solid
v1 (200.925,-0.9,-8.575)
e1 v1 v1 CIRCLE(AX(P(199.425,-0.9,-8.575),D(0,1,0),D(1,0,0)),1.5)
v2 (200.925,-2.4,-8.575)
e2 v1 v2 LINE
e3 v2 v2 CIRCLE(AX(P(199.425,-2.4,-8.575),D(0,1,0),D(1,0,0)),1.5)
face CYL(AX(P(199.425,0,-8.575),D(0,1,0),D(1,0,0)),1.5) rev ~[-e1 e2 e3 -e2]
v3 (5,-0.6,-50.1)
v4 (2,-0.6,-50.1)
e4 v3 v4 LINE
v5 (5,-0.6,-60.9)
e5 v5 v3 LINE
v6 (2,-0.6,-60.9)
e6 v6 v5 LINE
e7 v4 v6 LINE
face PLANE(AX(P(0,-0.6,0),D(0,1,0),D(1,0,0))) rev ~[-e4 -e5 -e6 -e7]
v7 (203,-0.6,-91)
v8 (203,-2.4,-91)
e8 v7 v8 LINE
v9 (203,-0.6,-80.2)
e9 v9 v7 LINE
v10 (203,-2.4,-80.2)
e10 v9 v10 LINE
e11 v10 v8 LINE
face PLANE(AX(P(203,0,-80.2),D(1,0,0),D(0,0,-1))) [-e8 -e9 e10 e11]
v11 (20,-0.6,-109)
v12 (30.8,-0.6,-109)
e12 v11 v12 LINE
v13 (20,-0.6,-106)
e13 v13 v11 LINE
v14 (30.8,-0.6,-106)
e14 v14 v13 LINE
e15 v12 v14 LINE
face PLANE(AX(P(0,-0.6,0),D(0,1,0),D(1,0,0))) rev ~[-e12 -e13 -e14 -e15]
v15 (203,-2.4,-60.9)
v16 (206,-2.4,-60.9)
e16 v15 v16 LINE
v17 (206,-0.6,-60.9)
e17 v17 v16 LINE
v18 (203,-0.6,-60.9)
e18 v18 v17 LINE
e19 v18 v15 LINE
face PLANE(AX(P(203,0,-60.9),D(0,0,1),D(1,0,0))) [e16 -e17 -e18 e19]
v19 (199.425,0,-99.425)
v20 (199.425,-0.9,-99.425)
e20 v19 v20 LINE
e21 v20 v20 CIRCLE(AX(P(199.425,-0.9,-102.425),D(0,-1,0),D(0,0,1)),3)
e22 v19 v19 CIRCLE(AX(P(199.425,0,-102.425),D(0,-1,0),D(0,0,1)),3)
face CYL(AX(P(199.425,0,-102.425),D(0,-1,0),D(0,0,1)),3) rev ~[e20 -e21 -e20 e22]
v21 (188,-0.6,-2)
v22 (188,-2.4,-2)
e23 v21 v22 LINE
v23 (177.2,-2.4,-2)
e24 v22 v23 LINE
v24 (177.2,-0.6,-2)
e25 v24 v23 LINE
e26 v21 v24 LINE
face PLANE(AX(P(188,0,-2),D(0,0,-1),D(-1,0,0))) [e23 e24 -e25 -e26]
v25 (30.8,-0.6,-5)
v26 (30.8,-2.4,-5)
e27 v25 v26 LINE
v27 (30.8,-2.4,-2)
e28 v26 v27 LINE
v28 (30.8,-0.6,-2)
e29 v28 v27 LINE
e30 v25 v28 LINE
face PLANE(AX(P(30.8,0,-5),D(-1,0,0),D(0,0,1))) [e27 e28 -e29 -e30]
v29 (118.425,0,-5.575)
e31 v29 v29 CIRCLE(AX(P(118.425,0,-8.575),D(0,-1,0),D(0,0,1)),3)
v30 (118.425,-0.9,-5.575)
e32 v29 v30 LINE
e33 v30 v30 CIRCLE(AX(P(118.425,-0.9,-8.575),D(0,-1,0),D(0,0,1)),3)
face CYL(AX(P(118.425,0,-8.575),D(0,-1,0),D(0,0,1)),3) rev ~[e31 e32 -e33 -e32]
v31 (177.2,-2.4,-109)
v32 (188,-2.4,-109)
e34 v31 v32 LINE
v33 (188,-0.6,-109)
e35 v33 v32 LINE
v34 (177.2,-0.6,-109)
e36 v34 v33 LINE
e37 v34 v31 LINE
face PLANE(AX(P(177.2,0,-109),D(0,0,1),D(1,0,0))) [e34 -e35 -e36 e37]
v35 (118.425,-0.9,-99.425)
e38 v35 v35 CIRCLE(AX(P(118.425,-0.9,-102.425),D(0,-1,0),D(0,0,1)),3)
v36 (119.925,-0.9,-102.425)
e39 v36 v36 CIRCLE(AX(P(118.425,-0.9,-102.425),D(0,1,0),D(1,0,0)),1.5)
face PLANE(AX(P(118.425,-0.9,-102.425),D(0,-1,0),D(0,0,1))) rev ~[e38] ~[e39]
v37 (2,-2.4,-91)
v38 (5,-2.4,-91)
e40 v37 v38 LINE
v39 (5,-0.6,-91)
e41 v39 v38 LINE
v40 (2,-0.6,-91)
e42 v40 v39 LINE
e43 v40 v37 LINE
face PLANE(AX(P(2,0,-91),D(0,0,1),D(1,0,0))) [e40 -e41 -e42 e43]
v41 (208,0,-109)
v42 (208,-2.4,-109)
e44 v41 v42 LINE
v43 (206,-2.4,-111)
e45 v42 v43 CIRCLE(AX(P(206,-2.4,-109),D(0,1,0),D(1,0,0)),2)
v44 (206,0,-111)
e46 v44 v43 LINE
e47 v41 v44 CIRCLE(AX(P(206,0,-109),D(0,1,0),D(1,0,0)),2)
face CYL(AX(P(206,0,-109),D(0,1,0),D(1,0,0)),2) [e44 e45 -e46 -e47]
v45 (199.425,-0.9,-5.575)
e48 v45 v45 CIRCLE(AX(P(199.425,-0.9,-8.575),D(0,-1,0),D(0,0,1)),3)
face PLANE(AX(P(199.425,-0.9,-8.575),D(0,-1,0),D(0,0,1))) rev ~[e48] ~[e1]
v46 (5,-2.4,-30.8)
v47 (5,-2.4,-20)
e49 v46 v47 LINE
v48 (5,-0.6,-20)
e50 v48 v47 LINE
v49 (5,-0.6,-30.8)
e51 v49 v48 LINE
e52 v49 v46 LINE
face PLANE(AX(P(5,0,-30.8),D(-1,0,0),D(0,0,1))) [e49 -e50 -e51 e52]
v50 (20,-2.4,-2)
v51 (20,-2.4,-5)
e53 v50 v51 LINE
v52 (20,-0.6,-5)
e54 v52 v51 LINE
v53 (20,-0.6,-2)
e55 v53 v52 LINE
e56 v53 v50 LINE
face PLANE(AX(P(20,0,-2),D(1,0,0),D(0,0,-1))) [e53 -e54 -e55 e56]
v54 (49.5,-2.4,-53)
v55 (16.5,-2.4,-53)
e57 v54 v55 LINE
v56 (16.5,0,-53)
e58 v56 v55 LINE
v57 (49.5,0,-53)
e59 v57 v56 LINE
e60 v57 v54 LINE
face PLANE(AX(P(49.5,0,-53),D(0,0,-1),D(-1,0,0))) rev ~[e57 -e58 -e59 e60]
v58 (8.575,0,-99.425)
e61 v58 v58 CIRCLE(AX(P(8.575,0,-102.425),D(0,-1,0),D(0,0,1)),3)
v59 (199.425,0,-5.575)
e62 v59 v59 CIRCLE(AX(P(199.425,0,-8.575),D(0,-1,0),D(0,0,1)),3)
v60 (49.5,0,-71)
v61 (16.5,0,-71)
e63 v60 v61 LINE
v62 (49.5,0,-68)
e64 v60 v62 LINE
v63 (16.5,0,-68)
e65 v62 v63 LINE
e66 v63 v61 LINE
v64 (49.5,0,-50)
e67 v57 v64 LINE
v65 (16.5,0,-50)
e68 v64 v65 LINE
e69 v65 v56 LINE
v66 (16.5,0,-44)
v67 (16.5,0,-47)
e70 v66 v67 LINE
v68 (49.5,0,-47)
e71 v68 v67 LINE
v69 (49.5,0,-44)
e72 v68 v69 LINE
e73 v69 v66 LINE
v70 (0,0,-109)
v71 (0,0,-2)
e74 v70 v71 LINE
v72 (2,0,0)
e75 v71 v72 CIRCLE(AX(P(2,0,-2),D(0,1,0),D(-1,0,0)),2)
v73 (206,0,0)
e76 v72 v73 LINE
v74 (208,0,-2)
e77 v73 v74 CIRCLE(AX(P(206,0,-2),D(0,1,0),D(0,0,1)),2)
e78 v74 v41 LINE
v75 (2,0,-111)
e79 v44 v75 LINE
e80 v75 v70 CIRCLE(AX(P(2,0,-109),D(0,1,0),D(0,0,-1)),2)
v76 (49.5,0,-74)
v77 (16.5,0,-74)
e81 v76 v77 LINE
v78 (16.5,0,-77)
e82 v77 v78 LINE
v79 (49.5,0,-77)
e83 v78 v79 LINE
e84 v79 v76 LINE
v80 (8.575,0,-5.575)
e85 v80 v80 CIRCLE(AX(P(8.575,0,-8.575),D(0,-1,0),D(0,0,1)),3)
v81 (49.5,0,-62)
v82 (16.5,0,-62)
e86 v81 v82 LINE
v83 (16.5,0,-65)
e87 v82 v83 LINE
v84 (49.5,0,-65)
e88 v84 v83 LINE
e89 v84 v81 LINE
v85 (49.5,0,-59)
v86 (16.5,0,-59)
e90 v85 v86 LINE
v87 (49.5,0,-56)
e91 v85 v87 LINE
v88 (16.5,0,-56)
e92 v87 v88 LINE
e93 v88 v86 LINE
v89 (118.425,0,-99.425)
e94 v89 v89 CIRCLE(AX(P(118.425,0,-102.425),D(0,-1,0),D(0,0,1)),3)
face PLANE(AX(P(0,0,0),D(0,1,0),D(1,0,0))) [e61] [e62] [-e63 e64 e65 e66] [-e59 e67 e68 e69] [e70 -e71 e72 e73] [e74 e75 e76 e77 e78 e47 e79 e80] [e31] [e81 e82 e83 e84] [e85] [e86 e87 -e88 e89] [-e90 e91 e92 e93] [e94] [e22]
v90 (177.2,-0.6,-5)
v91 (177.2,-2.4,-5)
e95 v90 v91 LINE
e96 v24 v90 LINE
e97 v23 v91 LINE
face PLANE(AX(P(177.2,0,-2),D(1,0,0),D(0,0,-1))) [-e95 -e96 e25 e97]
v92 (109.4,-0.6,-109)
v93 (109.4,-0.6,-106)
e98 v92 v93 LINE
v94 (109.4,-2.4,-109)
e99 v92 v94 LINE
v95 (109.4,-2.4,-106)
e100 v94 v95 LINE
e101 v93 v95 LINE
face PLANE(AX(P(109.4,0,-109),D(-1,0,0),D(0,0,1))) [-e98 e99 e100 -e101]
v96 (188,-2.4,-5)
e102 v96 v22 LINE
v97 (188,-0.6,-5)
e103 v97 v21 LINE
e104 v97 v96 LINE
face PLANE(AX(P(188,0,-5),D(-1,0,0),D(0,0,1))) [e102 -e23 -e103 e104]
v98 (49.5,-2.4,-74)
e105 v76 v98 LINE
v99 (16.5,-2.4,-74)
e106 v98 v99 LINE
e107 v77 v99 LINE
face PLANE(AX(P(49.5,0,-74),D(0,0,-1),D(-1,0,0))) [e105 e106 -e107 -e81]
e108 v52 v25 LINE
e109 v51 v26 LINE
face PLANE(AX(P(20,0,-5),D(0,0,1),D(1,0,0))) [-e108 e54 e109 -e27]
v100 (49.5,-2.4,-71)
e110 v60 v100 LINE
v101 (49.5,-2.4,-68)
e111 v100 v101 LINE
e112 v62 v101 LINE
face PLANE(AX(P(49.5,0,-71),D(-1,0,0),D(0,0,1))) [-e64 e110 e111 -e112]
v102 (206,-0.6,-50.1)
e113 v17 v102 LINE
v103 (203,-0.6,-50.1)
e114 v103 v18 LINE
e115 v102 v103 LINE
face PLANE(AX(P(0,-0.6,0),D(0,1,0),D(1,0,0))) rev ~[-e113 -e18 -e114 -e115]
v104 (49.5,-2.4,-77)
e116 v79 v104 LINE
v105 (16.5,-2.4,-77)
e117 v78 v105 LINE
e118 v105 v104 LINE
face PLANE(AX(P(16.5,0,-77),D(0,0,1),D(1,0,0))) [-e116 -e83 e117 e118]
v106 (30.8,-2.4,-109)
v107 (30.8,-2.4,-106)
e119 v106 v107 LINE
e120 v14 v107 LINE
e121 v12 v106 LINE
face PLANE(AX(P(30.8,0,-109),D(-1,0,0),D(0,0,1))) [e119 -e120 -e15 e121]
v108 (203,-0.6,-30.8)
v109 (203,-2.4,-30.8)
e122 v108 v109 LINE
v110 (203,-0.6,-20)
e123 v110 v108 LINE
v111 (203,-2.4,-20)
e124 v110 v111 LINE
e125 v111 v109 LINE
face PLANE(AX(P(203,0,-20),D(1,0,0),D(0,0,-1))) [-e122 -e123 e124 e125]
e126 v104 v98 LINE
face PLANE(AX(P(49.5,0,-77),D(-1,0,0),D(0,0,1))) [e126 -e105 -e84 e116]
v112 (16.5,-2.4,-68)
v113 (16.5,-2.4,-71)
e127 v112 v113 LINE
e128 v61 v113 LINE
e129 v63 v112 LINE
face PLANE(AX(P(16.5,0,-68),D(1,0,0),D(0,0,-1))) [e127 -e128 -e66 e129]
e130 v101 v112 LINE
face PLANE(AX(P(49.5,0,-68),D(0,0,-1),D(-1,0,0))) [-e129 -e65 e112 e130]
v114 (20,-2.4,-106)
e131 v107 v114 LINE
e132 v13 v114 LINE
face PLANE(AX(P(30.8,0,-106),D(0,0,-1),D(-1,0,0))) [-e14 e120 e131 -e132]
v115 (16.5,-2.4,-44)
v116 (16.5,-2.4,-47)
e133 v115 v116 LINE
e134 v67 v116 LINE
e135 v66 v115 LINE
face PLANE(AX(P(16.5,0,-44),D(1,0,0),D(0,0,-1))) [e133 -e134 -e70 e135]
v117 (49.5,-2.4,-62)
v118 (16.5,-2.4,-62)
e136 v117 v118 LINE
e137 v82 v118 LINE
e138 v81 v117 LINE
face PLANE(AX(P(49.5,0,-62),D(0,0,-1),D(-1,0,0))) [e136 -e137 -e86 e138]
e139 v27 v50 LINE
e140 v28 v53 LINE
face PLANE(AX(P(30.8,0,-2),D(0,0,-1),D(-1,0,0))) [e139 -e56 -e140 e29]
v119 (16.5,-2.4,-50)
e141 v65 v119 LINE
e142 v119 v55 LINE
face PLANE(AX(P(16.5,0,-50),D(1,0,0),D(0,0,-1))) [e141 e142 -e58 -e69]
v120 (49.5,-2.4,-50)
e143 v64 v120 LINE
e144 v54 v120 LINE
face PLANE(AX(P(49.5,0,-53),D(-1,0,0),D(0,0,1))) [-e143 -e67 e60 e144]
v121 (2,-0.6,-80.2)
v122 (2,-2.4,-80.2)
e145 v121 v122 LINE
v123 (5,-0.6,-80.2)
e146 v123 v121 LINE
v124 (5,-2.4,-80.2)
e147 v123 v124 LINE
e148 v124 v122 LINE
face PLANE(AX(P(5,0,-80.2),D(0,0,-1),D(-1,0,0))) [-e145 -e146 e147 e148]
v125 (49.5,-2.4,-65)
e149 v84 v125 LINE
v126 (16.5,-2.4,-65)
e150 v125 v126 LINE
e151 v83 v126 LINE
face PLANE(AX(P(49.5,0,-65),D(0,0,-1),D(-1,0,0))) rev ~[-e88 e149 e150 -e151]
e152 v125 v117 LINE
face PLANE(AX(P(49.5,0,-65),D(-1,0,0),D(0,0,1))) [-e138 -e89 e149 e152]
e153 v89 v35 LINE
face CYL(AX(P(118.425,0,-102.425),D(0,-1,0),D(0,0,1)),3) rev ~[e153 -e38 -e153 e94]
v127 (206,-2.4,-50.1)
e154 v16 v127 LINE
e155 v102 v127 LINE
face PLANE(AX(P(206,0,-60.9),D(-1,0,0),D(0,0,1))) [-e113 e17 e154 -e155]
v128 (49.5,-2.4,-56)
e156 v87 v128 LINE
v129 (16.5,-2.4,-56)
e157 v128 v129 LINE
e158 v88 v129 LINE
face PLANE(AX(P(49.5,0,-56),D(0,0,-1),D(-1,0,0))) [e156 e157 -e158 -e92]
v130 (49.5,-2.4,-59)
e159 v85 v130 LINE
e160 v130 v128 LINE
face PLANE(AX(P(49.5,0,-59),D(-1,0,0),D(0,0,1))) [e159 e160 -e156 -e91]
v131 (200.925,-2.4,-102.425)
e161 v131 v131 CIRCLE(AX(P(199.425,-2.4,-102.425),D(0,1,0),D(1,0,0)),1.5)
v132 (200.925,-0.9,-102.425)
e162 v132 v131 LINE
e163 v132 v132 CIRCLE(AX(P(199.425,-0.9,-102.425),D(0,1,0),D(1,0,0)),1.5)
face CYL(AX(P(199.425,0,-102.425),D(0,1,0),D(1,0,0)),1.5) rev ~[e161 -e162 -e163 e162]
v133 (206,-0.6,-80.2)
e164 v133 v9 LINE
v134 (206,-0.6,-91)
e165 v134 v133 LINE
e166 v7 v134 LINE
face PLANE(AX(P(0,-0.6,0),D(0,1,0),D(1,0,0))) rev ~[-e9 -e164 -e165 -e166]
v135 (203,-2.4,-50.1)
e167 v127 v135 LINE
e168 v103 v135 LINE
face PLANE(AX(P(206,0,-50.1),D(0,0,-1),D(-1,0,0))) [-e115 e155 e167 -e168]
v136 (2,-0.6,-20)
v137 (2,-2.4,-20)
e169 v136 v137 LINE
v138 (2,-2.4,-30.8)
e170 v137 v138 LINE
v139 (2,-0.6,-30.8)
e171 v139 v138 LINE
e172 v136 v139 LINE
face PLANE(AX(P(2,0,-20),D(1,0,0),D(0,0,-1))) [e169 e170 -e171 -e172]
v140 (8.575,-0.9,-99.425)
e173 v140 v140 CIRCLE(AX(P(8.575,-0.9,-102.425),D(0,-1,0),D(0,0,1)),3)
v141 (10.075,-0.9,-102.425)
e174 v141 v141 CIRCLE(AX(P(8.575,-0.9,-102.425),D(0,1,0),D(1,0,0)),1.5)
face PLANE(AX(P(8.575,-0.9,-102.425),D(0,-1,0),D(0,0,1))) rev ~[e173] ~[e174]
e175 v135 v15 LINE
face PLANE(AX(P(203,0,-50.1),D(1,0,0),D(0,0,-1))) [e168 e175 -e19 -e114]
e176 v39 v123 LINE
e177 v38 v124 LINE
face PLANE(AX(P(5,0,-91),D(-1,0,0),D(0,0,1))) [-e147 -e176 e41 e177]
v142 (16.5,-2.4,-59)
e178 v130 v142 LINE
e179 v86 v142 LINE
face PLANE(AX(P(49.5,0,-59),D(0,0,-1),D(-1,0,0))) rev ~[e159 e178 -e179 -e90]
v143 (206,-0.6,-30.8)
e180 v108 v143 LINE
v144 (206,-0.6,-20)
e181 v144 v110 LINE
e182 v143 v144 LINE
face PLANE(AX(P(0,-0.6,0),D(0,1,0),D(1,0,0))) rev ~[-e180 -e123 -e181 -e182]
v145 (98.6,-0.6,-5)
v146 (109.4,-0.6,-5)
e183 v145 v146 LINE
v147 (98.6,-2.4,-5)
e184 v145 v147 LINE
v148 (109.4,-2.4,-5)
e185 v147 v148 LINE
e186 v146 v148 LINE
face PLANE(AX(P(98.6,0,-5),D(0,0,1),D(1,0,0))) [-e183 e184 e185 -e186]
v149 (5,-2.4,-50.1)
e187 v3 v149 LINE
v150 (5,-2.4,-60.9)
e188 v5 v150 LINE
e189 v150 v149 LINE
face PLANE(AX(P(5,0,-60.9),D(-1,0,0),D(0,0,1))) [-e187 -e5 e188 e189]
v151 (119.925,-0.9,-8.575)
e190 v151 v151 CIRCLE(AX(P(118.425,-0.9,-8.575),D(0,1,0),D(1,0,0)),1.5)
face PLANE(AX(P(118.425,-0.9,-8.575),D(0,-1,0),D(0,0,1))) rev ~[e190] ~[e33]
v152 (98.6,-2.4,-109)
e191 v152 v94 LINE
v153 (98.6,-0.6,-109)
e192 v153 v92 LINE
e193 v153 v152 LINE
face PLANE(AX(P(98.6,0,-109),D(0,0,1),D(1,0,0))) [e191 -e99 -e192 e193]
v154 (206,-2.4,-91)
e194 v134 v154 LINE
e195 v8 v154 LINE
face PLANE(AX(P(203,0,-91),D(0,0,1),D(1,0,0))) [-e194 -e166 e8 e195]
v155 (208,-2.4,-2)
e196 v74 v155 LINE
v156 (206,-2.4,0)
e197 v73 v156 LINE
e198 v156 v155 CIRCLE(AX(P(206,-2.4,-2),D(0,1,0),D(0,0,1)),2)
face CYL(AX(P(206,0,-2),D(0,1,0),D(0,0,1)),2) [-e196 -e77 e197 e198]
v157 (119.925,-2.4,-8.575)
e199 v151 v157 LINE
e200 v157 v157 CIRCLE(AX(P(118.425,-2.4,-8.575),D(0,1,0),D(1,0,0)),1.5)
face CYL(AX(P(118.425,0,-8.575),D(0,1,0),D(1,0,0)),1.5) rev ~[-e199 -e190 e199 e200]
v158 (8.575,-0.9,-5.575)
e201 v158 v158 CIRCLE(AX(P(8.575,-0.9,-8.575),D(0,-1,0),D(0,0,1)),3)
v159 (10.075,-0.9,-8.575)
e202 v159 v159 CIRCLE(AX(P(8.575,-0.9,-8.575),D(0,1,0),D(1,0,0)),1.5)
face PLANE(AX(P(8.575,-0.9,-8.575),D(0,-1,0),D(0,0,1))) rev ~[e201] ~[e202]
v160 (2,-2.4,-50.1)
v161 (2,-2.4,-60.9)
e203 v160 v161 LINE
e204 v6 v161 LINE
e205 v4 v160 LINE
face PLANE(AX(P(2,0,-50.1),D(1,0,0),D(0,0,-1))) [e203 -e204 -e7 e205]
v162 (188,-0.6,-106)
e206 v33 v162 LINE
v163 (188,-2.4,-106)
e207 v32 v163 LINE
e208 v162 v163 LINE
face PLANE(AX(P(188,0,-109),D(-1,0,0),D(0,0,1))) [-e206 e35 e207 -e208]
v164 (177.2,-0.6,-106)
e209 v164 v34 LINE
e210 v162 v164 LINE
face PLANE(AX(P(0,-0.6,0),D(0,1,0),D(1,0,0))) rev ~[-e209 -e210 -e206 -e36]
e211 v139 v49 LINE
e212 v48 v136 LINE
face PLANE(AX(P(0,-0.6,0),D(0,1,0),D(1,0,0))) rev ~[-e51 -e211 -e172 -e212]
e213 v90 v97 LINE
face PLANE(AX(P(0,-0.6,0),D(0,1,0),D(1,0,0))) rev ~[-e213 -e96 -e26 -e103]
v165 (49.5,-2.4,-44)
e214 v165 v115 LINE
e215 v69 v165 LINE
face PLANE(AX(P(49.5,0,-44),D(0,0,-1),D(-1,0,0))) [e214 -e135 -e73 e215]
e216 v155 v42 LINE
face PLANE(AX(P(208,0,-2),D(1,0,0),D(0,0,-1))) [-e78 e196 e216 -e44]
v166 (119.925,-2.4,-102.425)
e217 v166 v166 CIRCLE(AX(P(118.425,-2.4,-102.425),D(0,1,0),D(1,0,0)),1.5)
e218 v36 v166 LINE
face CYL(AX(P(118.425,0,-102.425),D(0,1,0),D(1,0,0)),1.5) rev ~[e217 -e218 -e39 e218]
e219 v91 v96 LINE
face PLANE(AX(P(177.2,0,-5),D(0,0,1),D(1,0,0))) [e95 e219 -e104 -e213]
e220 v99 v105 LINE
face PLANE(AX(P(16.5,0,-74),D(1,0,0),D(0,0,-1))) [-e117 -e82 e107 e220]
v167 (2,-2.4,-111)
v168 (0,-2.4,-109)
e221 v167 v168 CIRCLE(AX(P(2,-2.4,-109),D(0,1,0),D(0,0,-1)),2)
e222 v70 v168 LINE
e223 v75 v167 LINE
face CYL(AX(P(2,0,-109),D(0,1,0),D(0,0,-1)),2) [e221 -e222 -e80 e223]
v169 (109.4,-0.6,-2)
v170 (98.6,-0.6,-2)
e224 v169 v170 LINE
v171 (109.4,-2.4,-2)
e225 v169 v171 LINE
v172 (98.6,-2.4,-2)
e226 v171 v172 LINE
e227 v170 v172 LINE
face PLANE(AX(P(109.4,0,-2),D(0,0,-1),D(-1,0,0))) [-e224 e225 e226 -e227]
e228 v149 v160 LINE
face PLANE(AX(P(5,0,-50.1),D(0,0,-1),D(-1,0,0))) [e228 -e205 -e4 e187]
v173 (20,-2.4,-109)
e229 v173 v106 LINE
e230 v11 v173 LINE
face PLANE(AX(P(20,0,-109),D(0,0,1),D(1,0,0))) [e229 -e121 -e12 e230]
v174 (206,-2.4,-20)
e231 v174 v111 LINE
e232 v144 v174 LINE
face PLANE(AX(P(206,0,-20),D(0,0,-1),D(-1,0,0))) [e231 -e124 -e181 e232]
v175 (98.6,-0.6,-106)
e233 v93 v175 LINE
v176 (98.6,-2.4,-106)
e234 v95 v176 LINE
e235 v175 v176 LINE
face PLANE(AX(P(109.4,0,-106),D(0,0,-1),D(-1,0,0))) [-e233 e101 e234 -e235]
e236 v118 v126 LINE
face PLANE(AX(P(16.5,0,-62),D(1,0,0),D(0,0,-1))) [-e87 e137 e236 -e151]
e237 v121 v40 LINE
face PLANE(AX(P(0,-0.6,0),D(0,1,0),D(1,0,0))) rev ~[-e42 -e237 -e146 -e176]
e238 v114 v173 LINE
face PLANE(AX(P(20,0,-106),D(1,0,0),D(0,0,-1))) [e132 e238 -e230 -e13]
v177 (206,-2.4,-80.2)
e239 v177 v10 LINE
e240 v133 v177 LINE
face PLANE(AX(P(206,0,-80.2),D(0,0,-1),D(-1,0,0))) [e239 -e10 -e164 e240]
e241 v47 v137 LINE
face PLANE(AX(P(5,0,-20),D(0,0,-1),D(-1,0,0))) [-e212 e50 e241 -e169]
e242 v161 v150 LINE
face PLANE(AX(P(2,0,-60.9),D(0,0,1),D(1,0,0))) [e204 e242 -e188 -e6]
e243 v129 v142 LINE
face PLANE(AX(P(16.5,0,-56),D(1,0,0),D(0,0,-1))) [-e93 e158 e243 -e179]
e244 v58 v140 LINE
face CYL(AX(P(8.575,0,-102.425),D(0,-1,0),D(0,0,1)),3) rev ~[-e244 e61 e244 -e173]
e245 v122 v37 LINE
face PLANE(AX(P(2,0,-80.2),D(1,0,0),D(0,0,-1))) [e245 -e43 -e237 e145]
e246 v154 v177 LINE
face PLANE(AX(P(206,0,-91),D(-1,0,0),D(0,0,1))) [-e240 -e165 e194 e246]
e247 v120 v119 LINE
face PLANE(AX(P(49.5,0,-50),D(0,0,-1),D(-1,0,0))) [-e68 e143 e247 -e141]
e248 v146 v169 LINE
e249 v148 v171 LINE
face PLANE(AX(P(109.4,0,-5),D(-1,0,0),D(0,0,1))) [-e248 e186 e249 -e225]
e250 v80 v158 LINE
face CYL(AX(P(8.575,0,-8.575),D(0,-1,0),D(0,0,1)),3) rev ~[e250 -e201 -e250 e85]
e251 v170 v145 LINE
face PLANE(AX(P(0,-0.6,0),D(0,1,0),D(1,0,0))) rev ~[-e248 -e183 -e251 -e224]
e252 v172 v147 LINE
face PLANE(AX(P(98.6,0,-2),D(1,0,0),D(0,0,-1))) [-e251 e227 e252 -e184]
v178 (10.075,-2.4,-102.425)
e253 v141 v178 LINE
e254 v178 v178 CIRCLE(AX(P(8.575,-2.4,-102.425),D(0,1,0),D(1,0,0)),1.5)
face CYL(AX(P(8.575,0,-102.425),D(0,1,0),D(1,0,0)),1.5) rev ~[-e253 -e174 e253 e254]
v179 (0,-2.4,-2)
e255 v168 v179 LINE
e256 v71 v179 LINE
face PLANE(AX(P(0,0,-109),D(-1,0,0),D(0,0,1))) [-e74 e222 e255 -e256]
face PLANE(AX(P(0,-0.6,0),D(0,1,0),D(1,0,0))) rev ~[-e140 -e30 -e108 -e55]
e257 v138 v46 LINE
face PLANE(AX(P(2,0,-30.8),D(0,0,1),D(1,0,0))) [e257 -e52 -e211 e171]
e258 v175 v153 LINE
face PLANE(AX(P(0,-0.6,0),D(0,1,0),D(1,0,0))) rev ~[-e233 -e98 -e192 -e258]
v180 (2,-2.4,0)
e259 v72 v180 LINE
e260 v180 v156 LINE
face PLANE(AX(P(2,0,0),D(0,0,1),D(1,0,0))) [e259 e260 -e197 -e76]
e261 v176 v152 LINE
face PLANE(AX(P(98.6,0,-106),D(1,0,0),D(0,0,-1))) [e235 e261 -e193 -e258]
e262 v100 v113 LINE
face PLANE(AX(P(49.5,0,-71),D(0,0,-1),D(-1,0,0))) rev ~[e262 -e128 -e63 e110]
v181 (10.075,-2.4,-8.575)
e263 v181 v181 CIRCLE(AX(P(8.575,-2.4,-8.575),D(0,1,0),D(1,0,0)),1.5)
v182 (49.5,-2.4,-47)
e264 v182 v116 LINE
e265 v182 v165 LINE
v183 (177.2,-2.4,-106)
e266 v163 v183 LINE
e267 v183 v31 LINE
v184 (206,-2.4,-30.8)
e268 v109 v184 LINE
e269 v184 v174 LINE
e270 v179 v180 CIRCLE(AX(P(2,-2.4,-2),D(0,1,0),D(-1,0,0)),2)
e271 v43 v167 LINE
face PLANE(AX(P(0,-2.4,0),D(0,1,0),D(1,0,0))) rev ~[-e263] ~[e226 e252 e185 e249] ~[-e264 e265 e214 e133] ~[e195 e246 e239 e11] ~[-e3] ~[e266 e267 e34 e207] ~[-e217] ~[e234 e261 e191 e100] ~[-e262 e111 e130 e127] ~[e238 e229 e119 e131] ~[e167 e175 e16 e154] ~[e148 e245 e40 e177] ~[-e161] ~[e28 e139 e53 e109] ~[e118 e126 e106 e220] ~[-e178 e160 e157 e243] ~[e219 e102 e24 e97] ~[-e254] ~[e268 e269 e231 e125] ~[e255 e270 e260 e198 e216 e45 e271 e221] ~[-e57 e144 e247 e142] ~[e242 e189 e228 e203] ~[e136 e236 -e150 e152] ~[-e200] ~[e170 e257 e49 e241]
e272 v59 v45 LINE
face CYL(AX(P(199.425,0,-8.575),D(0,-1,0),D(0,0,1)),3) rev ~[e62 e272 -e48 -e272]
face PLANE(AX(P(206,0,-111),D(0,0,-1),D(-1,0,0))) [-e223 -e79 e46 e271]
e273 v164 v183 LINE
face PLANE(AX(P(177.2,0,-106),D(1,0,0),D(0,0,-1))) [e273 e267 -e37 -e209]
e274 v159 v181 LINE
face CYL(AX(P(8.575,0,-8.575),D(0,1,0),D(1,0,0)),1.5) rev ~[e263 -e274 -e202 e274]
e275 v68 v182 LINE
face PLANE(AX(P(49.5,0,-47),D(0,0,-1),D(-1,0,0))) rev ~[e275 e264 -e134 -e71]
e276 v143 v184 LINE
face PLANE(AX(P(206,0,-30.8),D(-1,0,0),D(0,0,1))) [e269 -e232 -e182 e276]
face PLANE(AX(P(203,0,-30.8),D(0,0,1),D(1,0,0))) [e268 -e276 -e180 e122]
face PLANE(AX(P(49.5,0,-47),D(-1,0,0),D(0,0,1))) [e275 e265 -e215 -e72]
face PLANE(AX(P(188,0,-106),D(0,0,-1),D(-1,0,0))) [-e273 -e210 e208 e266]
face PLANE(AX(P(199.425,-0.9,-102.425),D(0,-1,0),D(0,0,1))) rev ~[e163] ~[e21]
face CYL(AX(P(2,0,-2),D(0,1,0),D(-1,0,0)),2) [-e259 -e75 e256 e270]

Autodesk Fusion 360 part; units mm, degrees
sketch "Skizze1" plane through (0, 0, 0) normal (0, 1, 0) x (1, 0, 0)
  line L0 (2, 0) -> (206, 0)
  line L1 (208, 2) -> (208, 109)
  line L2 (206, 111) -> (2, 111)
  line L3 (0, 109) -> (0, 2)
  circle A0 centre (8.575, 8.575) radius 1.5
  circle A1 centre (8.575, 102.425) radius 1.5
  circle A2 centre (199.425, 102.425) radius 1.5
  circle A3 centre (199.425, 8.575) radius 1.5
  line L4 (166.2, 106) -> (162.8, 106)
  line L5 (192, 106) -> (195.4, 106)
  line L6 (195.4, 89) -> (192, 89)
  line L7 (192, 68) -> (192, 76.4)
  line L8 (192, 76.4) -> (192, 71.4)
  line L9 (16.5, 77) -> (49.5, 77)
  line L10 (49.5, 77) -> (49.5, 44)
  line L11 (49.5, 44) -> (16.5, 44)
  line L12 (16.5, 44) -> (16.5, 77)
  line L13 (16.5, 77) -> (49.5, 77)
  line L14 (49.5, 77) -> (49.5, 74)
  line L15 (49.5, 74) -> (16.5, 74)
  line L16 (16.5, 74) -> (16.5, 77)
  line L17 (16.5, 74) -> (49.5, 74)
  line L18 (49.5, 74) -> (49.5, 71)
  line L19 (49.5, 71) -> (16.5, 71)
  line L20 (16.5, 71) -> (16.5, 74)
  line L21 (16.5, 71) -> (49.5, 71)
  line L22 (49.5, 71) -> (49.5, 68)
  line L23 (49.5, 68) -> (16.5, 68)
  line L24 (16.5, 68) -> (16.5, 71)
  line L25 (16.5, 68) -> (49.5, 68)
  line L26 (49.5, 68) -> (49.5, 65)
  line L27 (49.5, 65) -> (16.5, 65)
  line L28 (16.5, 65) -> (16.5, 68)
  line L29 (16.5, 65) -> (49.5, 65)
  line L30 (49.5, 65) -> (49.5, 62)
  line L31 (49.5, 62) -> (16.5, 62)
  line L32 (16.5, 62) -> (16.5, 65)
  line L33 (16.5, 62) -> (49.5, 62)
  line L34 (49.5, 62) -> (49.5, 59)
  line L35 (49.5, 59) -> (16.5, 59)
  line L36 (16.5, 59) -> (16.5, 62)
  line L37 (16.5, 59) -> (49.5, 59)
  line L38 (49.5, 59) -> (49.5, 56)
  line L39 (49.5, 56) -> (16.5, 56)
  line L40 (16.5, 56) -> (16.5, 59)
  line L41 (16.5, 56) -> (49.5, 56)
  line L42 (49.5, 56) -> (49.5, 53)
  line L43 (49.5, 53) -> (16.5, 53)
  line L44 (16.5, 53) -> (16.5, 56)
  line L45 (16.5, 53) -> (49.5, 53)
  line L46 (49.5, 53) -> (49.5, 50)
  line L47 (49.5, 50) -> (16.5, 50)
  line L48 (16.5, 50) -> (16.5, 53)
  line L49 (16.5, 50) -> (49.5, 50)
  line L50 (49.5, 50) -> (49.5, 47)
  line L51 (49.5, 47) -> (16.5, 47)
  line L52 (16.5, 47) -> (16.5, 50)
  line L53 (16.5, 47) -> (49.5, 47)
  line L54 (49.5, 47) -> (49.5, 44)
  line L55 (49.5, 44) -> (16.5, 44)
  line L56 (16.5, 44) -> (16.5, 47)
  line L57 (20, 109) -> (30.8, 109)
  line L58 (30.8, 109) -> (30.8, 106)
  line L59 (30.8, 106) -> (20, 106)
  line L60 (20, 106) -> (20, 109)
  line L61 (2, 91) -> (5, 91)
  line L62 (5, 91) -> (5, 80.2)
  line L63 (5, 80.2) -> (2, 80.2)
  line L64 (2, 80.2) -> (2, 91)
  line L65 (2, 30.8) -> (5, 30.8)
  line L66 (5, 30.8) -> (5, 20)
  line L67 (5, 20) -> (2, 20)
  line L68 (2, 20) -> (2, 30.8)
  line L69 (20, 5) -> (30.8, 5)
  line L70 (30.8, 5) -> (30.8, 2)
  line L71 (30.8, 2) -> (20, 2)
  line L72 (20, 2) -> (20, 5)
  line L73 (177.2, 5) -> (188, 5)
  line L74 (188, 5) -> (188, 2)
  line L75 (188, 2) -> (177.2, 2)
  line L76 (177.2, 2) -> (177.2, 5)
  line L77 (203, 30.8) -> (206, 30.8)
  line L78 (206, 30.8) -> (206, 20)
  line L79 (206, 20) -> (203, 20)
  line L80 (203, 20) -> (203, 30.8)
  line L81 (177.2, 109) -> (188, 109)
  line L82 (188, 109) -> (188, 106)
  line L83 (188, 106) -> (177.2, 106)
  line L84 (177.2, 106) -> (177.2, 109)
  line L85 (203, 91) -> (206, 91)
  line L86 (206, 91) -> (206, 80.2)
  line L87 (206, 80.2) -> (203, 80.2)
  line L88 (203, 80.2) -> (203, 91)
  line L89 (98.6, 5) -> (109.4, 5)
  line L90 (109.4, 5) -> (109.4, 2)
  line L91 (109.4, 2) -> (98.6, 2)
  line L92 (98.6, 2) -> (98.6, 5)
  line L93 (98.6, 109) -> (109.4, 109)
  line L94 (109.4, 109) -> (109.4, 106)
  line L95 (109.4, 106) -> (98.6, 106)
  line L96 (98.6, 106) -> (98.6, 109)
  line L97 (203, 60.9) -> (206, 60.9)
  line L98 (206, 60.9) -> (206, 50.1)
  line L99 (206, 50.1) -> (203, 50.1)
  line L100 (203, 50.1) -> (203, 60.9)
  line L101 (2, 60.9) -> (5, 60.9)
  line L102 (5, 60.9) -> (5, 50.1)
  line L103 (5, 50.1) -> (2, 50.1)
  line L104 (2, 50.1) -> (2, 60.9)
  arc A4 (2, 111) -> (0, 109) centre (2, 109) ccw
  arc A5 (0, 2) -> (2, 0) centre (2, 2) ccw
  arc A6 (206, 0) -> (208, 2) centre (206, 2) ccw
  arc A7 (208, 109) -> (206, 111) centre (206, 109) ccw
  circle A8 centre (118.425, 8.575) radius 1.5
  circle A9 centre (118.425, 102.425) radius 1.5
  point P0 (208, 0)
  point P1 (0, 111)
  dimension "d1" = 208
  dimension "d2" = 111
  dimension "d3" = 3
  dimension "d4" = 8.575
  dimension "d5" = 8.575
  dimension "d6" = 3
  dimension "d7" = 8.575
  dimension "d8" = 8.575
  dimension "d9" = 3
  dimension "d10" = 8.575
  dimension "d11" = 8.575
  dimension "d12" = 3
  dimension "d13" = 8.575
  dimension "d14" = 8.575
  dimension "d44" = 25.8
  dimension "d48" = 3.4
  dimension "d49" = 3.4
  dimension "d50" = 17
  dimension "d60" = 33
  dimension "d61" = 33
  dimension "d62" = 34
  dimension "d63" = 16.5
  dimension "d64" = 3
  dimension "d65" = 33
  dimension "d66" = 3
  dimension "d67" = 3
  dimension "d68" = 3
  dimension "d69" = 3
  dimension "d70" = 3
  dimension "d71" = 3
  dimension "d72" = 3
  dimension "d73" = 3
  dimension "d74" = 3
  dimension "d75" = 10.8
  dimension "d76" = 3
  dimension "d77" = 20
  dimension "d78" = 2
  dimension "d79" = 3
  dimension "d80" = 10.8
  dimension "d81" = 2
  dimension "d82" = 20
  dimension "d83" = 3
  dimension "d84" = 10.8
  dimension "d85" = 2
  dimension "d86" = 20
  dimension "d87" = 10.8
  dimension "d88" = 3
  dimension "d89" = 2
  dimension "d90" = 20
  dimension "d91" = 10.8
  dimension "d92" = 3
  dimension "d93" = 2
  dimension "d94" = 20
  dimension "d95" = 3
  dimension "d96" = 10.8
  dimension "d97" = 2
  dimension "d98" = 20
  dimension "d99" = 10.8
  dimension "d100" = 3
  dimension "d101" = 2
  dimension "d102" = 20
  dimension "d103" = 3
  dimension "d104" = 10.8
  dimension "d105" = 2
  dimension "d106" = 20
  dimension "d107" = 10.8
  dimension "d108" = 3
  dimension "d109" = 2
  dimension "d110" = 98.6
  dimension "d111" = 10.8
  dimension "d112" = 3
  dimension "d113" = 2
  dimension "d114" = 98.6
  dimension "d115" = 3
  dimension "d116" = 10.8
  dimension "d117" = 2
  dimension "d118" = 50.1
  dimension "d119" = 3
  dimension "d120" = 10.8
  dimension "d121" = 2
  dimension "d122" = 50.1
  dimension "d123" = 2
  dimension "d124" = 2
  dimension "d125" = 2
  dimension "d126" = 2
  dimension "d160" = 3
  dimension "d161" = 109.85
  dimension "d162" = 8.575
  dimension "d163" = 3
  dimension "d164" = 8.575
  dimension "d165" = 109.85
extrude "Extrusion11" add sketch "Skizze1" against normal blind 2.4 contours L0 L1 L2 L3 A4 A5 A6 A7 | L10 L12 L15 L17 L18 L19 L20 L21 | L10 L12 L23 L25 L26 L27 L28 L29 | L10 L12 L31 L33 L34 L35 L36 L37 | L10 L12 L39 L41 L42 L43 L44 L45 | L10 L12 L47 L49 L50 L51 L52 L53
extrude "Extrusion12" add sketch "Skizze1" against normal blind 0.6 contours L57 L58 L59 L60 | L61 L62 L63 L64 | L65 L66 L67 L68 | L69 L70 L71 L72 | L73 L74 L75 L76 | L77 L78 L79 L80 | L81 L82 L83 L84 | L85 L86 L87 L88 | L89 L90 L91 L92 | L93 L94 L95 L96 | L97 L98 L99 L100 | L101 L102 L103 L104
hole "Bohrung5" at (8.575, 0, -8.575) direction (0, -1, 0) diameter 6 depth 0.9 tip angle 180
hole "Bohrung6" at (8.575, 0, -102.425) direction (0, -1, 0) diameter 6 depth 0.9 tip angle 180
hole "Bohrung7" at (118.425, 0, -102.425) direction (0, -1, 0) diameter 6 depth 0.9 tip angle 180
hole "Bohrung8" at (118.425, 0, -8.575) direction (0, -1, 0) diameter 6 depth 0.9 tip angle 180
hole "Bohrung9" at (199.425, 0, -102.425) direction (0, -1, 0) diameter 6 depth 0.9 tip angle 180
hole "Bohrung10" at (199.425, 0, -8.575) direction (0, -1, 0) diameter 6 depth 0.9 tip angle 180
